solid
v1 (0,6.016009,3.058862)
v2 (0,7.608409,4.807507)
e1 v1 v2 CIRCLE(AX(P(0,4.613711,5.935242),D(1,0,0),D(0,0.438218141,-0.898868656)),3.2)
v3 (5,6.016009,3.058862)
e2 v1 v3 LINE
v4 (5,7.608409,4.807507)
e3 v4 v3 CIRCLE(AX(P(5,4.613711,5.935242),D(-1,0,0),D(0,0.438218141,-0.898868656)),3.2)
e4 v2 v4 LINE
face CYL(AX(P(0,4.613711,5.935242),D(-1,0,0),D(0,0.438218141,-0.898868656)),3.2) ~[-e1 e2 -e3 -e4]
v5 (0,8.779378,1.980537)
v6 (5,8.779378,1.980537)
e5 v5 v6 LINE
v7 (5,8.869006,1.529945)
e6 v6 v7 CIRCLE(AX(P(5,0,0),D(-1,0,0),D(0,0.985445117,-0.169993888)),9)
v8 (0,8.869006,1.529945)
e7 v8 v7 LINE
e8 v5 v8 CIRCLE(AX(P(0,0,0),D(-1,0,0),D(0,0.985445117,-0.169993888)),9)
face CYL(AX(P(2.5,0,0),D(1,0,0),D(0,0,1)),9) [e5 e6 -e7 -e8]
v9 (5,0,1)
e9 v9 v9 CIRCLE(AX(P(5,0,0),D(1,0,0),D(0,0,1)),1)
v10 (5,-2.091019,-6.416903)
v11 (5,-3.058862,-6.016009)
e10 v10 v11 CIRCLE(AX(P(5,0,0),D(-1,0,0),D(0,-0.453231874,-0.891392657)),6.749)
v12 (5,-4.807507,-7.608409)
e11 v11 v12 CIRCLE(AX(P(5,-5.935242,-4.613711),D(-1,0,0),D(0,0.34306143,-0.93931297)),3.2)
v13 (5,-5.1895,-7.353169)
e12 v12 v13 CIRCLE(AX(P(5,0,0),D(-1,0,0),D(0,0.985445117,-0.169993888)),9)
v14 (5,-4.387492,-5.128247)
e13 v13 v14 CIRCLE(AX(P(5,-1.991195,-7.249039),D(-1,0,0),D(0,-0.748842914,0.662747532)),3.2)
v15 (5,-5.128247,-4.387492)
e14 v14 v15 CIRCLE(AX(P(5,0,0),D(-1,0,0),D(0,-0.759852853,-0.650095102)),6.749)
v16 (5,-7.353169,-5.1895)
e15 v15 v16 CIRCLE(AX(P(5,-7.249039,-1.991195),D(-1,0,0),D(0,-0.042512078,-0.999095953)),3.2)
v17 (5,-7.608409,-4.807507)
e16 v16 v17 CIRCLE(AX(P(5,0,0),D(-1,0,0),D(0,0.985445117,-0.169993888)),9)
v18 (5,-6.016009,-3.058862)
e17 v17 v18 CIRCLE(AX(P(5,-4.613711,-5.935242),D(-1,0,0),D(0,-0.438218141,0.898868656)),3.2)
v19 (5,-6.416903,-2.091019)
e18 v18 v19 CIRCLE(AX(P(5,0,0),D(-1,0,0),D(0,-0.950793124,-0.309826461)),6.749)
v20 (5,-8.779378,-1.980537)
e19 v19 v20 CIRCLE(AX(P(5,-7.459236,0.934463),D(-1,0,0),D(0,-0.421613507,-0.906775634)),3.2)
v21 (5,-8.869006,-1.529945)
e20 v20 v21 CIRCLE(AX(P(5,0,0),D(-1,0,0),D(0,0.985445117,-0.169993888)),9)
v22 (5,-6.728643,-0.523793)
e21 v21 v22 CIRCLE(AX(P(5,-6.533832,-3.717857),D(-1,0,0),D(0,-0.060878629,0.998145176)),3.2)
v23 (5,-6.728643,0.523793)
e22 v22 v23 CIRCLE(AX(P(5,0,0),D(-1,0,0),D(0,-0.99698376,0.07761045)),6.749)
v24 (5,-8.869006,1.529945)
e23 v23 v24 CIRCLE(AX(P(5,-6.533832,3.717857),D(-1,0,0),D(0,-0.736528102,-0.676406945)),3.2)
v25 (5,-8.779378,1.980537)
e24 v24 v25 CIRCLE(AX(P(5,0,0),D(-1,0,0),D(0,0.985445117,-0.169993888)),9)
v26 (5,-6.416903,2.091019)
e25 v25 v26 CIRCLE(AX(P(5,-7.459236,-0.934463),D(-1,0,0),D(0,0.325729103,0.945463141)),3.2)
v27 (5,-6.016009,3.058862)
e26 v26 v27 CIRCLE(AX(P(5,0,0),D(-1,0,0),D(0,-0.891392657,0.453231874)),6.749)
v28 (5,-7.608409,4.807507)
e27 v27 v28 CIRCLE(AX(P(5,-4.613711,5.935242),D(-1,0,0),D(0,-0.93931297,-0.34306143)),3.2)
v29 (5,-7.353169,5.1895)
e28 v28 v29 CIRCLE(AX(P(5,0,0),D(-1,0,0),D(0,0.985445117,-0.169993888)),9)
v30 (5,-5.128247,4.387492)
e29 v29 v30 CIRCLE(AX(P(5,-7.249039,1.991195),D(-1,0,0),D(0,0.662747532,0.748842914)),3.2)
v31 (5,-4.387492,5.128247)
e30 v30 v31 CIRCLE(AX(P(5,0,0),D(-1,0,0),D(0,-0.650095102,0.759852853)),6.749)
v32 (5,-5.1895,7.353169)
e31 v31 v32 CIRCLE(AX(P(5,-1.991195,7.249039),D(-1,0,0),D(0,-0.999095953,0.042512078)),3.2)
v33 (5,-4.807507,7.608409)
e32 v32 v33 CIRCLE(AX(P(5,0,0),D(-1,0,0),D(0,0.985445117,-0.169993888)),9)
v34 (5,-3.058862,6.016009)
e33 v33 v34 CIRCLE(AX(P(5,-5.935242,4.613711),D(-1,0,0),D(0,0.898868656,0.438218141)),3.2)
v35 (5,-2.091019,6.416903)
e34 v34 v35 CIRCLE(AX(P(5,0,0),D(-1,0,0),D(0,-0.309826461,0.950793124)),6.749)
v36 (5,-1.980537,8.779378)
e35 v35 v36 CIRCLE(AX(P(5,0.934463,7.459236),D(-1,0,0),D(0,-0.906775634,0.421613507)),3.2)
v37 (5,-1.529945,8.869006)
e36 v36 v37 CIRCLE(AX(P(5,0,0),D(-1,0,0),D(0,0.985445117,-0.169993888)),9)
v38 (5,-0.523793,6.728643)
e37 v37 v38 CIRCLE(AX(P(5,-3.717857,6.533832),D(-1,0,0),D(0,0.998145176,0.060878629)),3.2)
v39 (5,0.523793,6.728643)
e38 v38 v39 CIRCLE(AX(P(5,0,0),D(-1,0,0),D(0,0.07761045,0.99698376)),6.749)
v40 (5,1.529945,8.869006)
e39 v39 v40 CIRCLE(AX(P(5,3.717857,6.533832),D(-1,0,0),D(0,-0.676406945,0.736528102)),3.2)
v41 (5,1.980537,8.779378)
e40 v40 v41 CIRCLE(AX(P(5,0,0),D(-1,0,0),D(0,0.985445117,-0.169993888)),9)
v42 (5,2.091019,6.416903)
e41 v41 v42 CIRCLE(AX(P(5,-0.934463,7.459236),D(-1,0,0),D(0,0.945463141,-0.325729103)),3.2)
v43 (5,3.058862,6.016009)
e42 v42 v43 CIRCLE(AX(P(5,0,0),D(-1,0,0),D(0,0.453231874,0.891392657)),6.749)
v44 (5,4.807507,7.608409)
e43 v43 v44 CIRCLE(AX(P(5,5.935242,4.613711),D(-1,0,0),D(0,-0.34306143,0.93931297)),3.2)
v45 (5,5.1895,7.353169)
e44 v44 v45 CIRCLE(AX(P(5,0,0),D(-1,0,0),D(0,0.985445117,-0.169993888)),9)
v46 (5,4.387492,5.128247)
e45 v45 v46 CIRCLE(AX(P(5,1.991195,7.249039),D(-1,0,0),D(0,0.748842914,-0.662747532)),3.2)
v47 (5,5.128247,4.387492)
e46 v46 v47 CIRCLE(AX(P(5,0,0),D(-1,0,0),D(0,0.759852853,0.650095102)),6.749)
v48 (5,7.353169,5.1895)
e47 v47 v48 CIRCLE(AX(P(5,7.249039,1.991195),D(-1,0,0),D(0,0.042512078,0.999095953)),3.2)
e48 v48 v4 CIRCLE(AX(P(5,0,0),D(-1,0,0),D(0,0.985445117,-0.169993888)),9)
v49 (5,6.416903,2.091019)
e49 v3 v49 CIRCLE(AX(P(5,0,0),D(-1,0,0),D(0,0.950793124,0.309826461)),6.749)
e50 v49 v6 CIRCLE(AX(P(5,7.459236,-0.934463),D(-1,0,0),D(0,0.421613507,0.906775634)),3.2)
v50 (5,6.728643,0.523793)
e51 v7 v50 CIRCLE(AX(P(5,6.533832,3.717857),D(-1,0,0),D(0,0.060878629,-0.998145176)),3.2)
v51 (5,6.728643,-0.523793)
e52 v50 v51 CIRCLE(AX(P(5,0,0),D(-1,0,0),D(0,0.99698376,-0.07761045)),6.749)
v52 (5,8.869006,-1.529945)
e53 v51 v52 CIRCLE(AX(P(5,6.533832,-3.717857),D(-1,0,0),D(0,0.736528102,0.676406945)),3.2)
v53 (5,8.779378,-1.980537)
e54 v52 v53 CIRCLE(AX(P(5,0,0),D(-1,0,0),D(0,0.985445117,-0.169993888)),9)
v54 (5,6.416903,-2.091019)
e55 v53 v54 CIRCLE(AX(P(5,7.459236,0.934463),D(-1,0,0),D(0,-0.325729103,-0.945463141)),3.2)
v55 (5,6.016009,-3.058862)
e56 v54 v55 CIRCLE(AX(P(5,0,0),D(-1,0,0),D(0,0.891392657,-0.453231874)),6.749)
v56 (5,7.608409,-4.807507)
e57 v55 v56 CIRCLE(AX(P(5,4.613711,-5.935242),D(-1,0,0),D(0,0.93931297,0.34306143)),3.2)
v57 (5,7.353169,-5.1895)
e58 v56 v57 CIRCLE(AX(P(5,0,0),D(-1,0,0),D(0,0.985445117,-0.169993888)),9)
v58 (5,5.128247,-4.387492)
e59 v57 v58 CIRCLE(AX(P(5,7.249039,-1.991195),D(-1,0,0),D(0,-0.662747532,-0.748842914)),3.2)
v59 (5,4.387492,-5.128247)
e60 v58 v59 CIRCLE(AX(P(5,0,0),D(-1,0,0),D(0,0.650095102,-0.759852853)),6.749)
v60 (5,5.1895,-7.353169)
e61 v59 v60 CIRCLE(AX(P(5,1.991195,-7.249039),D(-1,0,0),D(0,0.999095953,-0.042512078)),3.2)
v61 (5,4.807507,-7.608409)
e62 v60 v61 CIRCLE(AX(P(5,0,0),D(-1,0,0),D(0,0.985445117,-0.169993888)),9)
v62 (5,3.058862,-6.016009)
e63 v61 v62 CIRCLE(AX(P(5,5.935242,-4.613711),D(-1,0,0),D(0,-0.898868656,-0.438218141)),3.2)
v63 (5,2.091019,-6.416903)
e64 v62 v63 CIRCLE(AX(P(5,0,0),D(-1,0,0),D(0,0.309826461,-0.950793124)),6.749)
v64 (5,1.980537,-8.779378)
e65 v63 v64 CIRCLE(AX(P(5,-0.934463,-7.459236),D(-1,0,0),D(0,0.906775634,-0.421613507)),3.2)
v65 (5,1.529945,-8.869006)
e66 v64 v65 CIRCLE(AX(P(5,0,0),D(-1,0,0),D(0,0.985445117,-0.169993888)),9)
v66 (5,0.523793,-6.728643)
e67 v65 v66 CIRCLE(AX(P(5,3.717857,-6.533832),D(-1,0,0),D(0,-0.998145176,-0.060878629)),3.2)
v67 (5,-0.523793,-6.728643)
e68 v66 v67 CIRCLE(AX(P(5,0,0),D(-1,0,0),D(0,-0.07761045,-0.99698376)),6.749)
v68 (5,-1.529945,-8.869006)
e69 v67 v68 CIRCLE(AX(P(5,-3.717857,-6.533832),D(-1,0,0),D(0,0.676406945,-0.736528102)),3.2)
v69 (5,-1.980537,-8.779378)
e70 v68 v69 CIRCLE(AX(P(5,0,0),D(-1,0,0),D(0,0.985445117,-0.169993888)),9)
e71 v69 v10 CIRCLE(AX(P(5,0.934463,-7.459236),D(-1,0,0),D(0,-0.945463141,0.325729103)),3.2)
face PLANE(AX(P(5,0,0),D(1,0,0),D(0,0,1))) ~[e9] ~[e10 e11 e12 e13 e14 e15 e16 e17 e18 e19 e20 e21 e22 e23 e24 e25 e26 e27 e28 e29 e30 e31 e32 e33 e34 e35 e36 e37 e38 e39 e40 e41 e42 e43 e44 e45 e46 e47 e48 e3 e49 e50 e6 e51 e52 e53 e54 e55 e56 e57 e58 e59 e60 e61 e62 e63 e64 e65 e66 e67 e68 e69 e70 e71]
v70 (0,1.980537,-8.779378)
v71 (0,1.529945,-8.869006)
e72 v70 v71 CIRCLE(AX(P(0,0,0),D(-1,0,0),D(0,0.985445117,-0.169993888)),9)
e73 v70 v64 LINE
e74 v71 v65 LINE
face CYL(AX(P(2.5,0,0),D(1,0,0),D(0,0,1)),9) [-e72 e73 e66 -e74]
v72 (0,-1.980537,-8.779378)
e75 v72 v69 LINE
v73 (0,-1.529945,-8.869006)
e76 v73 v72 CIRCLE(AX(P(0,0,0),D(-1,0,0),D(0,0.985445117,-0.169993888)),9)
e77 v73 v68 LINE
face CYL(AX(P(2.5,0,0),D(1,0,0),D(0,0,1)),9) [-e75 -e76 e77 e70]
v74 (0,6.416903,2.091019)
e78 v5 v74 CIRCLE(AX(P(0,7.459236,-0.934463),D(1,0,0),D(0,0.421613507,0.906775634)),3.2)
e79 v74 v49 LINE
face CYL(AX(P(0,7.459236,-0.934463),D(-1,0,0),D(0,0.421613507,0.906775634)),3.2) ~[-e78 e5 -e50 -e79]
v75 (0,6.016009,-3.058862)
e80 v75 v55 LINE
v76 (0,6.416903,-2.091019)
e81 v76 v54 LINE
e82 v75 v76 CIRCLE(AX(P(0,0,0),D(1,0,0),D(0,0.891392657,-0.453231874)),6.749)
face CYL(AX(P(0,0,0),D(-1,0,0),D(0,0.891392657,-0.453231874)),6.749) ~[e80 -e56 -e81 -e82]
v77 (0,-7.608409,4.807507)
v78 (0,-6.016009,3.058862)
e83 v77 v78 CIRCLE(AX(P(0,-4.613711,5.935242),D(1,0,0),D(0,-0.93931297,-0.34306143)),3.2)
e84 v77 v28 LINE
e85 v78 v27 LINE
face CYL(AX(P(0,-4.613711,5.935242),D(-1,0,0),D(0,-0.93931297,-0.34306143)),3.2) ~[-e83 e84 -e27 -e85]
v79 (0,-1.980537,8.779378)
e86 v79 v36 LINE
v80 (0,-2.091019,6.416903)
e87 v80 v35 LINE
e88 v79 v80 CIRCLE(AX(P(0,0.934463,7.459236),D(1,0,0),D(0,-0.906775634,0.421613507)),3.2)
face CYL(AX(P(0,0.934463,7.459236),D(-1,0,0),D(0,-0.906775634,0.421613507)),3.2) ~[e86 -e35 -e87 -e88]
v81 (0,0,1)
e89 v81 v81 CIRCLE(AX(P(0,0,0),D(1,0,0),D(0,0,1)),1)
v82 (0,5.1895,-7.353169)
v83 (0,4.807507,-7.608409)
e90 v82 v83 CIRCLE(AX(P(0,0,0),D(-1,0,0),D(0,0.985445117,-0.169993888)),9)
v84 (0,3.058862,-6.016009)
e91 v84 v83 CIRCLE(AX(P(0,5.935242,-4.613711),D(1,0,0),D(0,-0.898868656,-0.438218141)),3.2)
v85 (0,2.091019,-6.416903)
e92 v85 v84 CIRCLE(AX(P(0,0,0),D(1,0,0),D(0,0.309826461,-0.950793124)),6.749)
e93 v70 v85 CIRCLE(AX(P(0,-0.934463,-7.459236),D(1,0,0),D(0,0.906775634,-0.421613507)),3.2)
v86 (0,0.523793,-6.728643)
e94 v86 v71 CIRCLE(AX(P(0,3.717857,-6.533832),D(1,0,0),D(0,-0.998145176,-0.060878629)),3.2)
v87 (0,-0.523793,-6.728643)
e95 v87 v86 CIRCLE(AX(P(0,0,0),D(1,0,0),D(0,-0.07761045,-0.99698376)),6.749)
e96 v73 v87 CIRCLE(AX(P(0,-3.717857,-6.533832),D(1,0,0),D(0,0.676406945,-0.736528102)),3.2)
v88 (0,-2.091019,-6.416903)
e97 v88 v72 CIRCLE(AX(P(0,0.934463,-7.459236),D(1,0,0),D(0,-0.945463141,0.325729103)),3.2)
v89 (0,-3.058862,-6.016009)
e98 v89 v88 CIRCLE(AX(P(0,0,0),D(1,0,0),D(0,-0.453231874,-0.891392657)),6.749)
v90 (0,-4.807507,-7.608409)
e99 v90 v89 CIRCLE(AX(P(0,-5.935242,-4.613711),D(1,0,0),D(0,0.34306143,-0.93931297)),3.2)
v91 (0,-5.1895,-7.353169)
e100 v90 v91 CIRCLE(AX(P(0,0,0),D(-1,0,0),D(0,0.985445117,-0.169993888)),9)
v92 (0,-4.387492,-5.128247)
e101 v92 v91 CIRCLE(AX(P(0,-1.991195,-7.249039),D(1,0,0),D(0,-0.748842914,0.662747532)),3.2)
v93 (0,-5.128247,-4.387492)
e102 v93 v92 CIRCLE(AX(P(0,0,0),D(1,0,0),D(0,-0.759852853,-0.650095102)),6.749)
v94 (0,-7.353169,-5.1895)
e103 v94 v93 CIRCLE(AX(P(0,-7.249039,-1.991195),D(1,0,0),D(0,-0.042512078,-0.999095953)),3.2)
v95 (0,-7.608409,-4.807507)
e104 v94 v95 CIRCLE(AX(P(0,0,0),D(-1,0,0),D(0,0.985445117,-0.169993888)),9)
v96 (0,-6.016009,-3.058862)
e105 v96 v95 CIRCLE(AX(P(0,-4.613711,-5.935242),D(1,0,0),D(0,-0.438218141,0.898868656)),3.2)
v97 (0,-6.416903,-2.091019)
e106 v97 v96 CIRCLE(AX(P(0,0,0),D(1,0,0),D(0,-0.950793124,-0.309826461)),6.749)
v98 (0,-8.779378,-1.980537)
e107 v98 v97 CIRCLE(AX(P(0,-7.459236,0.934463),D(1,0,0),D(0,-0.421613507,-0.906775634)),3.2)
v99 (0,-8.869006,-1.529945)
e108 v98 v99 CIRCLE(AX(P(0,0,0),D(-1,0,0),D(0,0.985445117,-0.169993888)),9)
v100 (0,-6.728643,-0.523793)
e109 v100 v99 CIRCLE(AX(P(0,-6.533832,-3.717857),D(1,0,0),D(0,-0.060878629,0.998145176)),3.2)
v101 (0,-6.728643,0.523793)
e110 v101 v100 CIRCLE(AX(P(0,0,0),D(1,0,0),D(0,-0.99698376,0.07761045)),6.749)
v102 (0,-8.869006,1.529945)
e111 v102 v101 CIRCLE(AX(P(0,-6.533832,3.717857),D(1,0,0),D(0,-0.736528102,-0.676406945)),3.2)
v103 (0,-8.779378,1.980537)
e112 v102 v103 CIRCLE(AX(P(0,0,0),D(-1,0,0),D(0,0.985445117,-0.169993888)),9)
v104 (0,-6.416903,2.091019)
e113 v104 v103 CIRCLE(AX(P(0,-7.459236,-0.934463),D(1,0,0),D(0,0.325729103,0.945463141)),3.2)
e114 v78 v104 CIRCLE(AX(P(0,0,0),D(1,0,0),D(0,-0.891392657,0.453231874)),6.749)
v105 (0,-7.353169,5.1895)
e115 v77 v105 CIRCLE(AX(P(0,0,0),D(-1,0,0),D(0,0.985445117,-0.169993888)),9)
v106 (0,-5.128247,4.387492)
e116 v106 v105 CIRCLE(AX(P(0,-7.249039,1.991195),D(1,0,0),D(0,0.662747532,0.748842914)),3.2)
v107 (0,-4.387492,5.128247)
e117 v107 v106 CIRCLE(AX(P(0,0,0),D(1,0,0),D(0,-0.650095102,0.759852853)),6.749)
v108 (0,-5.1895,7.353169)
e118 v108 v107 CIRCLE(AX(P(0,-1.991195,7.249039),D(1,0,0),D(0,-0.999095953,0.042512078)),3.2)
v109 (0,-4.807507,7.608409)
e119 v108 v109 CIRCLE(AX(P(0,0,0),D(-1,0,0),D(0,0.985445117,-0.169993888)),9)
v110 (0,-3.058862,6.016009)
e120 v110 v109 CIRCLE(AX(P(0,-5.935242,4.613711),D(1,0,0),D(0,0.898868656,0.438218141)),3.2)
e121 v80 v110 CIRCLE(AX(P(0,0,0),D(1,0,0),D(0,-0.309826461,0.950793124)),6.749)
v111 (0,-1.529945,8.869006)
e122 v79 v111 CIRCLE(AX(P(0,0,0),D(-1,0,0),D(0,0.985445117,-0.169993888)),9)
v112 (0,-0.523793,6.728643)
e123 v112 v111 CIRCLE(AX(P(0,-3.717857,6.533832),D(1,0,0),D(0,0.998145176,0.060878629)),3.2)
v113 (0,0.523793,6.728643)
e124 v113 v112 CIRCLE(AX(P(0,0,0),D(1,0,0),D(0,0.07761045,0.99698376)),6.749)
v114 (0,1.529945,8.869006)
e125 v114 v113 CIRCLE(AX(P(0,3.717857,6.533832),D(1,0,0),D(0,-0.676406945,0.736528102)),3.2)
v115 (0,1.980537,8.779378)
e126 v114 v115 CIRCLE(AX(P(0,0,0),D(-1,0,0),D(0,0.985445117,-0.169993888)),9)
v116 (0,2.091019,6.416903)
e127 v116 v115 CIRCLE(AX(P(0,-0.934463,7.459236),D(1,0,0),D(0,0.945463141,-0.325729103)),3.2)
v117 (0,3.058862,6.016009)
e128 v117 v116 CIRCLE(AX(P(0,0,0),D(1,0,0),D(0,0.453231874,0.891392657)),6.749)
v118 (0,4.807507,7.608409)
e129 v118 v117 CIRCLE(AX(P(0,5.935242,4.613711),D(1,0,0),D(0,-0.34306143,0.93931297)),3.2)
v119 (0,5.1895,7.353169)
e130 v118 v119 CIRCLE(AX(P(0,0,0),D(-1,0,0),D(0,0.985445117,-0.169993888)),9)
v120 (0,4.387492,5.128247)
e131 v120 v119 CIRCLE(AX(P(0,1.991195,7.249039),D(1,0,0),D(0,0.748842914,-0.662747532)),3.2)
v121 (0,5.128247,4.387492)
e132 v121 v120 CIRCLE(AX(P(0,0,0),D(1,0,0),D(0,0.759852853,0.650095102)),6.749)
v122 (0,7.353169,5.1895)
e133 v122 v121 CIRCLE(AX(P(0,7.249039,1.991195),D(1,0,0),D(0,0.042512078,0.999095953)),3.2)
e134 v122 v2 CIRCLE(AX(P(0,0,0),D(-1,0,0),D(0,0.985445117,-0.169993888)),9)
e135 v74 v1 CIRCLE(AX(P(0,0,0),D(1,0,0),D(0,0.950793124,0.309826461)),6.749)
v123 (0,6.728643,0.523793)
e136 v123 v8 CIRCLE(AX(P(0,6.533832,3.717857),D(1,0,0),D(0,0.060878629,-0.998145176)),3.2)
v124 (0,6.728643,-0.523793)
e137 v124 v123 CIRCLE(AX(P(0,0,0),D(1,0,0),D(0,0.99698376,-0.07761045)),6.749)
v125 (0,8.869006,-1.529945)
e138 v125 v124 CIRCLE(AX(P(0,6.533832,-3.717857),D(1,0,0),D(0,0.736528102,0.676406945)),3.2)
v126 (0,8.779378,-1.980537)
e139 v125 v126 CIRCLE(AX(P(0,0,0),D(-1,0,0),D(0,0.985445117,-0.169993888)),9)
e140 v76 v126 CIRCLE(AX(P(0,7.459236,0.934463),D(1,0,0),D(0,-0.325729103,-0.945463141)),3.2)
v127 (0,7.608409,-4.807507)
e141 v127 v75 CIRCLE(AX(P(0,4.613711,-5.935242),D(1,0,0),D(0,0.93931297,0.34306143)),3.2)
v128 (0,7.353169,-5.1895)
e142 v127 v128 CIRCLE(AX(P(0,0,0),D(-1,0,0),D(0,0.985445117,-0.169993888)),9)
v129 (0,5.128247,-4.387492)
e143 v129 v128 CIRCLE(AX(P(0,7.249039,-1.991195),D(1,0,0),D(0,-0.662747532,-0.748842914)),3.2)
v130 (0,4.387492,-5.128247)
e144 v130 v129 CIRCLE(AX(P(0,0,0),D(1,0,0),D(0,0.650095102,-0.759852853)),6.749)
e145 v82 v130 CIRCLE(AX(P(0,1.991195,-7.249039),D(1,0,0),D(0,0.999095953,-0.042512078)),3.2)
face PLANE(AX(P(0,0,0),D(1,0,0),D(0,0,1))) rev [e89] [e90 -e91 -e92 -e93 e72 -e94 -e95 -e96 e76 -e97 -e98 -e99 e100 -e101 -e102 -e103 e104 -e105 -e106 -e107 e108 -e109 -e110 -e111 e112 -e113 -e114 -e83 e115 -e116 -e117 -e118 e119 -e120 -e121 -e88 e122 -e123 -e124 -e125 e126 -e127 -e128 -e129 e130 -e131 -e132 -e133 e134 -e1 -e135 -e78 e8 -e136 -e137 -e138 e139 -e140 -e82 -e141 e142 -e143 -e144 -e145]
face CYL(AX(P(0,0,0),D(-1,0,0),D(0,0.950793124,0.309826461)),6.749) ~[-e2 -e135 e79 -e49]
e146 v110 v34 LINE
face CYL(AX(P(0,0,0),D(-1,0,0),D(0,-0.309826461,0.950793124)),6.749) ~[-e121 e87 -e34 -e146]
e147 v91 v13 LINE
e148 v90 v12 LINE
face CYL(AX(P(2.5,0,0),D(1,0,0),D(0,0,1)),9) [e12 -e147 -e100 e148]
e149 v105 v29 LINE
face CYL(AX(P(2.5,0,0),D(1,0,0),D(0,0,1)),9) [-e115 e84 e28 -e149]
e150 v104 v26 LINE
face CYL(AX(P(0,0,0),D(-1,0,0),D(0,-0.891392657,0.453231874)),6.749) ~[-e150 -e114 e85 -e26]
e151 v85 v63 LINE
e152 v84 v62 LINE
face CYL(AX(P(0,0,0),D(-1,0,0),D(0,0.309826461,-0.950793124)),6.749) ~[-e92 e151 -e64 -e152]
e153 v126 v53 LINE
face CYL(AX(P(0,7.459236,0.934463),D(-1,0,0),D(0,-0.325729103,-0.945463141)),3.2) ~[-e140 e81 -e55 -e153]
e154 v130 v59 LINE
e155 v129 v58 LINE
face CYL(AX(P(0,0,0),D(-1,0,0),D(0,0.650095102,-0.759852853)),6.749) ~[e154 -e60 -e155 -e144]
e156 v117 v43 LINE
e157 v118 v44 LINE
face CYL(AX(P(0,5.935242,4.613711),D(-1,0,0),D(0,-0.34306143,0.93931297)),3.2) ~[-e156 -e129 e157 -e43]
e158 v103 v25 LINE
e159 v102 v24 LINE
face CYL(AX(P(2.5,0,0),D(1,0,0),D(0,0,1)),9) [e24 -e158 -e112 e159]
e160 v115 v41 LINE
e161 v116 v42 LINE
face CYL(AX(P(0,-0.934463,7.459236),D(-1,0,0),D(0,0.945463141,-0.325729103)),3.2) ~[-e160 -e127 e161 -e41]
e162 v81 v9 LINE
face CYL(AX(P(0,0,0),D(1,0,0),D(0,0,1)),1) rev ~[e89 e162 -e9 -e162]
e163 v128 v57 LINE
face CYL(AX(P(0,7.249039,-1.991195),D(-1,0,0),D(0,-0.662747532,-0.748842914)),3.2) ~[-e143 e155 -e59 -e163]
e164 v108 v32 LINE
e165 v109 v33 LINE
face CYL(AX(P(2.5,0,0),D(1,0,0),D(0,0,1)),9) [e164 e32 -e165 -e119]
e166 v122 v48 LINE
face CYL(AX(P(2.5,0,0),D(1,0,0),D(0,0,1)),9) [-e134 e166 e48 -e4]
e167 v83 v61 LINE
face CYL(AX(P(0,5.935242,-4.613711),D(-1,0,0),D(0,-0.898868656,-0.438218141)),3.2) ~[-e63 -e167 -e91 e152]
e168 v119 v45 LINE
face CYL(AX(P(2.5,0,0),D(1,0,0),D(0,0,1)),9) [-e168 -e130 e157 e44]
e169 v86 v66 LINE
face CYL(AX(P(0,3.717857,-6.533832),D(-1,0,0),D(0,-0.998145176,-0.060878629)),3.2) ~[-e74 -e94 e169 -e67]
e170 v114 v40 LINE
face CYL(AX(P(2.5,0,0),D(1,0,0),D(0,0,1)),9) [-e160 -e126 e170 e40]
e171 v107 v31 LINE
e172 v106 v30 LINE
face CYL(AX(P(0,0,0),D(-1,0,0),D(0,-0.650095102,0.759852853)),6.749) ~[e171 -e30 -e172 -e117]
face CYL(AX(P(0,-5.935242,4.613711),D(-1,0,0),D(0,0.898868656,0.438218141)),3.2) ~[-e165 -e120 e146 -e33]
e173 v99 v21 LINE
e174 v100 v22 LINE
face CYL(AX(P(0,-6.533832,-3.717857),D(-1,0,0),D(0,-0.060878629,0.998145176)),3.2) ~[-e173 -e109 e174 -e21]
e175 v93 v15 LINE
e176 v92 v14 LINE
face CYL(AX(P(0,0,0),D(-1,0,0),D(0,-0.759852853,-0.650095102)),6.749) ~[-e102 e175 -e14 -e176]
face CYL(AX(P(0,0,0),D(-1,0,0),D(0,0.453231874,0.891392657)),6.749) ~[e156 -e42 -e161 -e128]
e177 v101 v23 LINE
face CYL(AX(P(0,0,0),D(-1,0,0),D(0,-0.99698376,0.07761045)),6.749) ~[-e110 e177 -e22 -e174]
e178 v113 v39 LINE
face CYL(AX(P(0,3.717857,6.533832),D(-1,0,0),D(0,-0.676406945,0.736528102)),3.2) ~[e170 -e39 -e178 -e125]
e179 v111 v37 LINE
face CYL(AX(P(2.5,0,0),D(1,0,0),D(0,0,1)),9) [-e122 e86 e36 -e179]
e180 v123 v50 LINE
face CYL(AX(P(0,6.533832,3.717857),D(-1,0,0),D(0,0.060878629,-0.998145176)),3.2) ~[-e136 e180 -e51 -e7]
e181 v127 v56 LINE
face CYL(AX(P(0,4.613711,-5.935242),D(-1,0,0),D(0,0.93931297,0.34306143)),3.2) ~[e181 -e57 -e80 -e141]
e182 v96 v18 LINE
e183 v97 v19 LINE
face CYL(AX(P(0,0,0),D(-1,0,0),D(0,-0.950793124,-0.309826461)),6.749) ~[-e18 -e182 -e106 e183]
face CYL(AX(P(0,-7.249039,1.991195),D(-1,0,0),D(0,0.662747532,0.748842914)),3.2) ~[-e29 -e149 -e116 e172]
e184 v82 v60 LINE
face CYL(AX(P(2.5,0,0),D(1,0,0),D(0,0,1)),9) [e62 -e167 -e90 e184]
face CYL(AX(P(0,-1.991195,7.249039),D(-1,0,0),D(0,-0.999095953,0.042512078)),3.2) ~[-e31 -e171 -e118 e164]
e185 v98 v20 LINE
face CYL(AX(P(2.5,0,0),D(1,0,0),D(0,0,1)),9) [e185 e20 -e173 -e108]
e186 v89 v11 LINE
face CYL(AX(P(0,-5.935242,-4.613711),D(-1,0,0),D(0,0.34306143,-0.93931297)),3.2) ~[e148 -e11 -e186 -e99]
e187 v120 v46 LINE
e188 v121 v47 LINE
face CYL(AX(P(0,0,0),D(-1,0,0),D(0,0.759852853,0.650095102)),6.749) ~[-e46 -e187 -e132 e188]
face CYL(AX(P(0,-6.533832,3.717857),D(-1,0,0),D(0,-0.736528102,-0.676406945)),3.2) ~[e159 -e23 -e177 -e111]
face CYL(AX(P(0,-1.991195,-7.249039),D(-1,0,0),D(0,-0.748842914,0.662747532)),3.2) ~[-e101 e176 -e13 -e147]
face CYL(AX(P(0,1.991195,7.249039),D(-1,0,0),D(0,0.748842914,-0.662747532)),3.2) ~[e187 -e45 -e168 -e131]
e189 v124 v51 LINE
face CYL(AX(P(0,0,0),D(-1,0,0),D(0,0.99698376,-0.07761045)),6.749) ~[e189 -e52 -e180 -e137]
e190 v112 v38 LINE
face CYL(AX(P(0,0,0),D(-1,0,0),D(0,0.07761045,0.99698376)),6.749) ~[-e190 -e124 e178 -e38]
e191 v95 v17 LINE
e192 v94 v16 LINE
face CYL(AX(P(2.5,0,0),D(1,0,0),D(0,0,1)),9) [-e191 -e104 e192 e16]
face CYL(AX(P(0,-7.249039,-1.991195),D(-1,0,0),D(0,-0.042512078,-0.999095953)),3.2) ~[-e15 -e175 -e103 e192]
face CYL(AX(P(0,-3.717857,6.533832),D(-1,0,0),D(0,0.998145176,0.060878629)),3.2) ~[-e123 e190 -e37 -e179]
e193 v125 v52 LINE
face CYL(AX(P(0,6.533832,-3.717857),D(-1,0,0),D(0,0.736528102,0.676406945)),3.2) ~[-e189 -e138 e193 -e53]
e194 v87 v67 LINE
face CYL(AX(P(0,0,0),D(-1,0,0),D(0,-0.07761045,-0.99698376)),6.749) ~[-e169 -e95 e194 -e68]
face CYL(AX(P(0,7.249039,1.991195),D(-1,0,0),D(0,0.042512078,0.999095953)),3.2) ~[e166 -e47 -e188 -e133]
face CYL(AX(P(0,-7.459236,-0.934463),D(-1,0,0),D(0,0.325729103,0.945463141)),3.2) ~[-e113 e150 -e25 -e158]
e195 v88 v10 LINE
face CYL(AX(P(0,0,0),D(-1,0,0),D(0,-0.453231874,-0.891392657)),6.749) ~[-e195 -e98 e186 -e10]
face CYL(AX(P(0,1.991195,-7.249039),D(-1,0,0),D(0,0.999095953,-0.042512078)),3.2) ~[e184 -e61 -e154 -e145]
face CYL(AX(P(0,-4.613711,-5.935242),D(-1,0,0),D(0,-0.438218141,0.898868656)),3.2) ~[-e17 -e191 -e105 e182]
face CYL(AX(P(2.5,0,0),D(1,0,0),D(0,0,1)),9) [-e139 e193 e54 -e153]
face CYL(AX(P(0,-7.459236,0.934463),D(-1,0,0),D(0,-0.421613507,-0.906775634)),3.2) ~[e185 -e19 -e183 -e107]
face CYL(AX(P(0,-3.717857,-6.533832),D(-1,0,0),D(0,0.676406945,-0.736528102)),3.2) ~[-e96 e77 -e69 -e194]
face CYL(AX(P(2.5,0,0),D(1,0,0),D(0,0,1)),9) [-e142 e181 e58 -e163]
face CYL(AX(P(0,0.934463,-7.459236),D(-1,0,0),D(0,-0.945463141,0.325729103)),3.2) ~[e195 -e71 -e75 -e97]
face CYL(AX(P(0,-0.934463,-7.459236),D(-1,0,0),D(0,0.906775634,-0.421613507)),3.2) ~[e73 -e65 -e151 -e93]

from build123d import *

# Parameters (mm, degrees)
BASPROSKE_W     = 5
BASPROSKE_H     = 9
TOOTHCUT_DEPTH  = 14.674794331
TEETHCUTS_COUNT = 16
TEETHCUTS_ANGLE = 337.5
BORSKE_R        = 1
BORE_DEPTH      = 50.0000508


with BuildPart() as part:
    # BasProSke → Base-Revolve (revolve)
    with BuildSketch(Plane(origin=(0, 0, 0), x_dir=(1, 0, 0), z_dir=(0, 1, 0))):
        with Locations((2.5, 4.5)):
            Rectangle(BASPROSKE_W, BASPROSKE_H)
    revolve(axis=Axis((-10, 0, 0), (1, 0, 0)))

    # TooCutSke → ToothCut (cut, through all)
    with BuildSketch(Plane(origin=(0, 0, 0), x_dir=(0, 0, -1), z_dir=(1, 0, 0))):
        with BuildLine():
            ThreePointArc((0.523792937, 6.728643397), (0, 6.749), (-0.523792937, 6.728643397))
            ThreePointArc((-0.523792937, 6.728643397), (-0.828704482, 7.90962059), (-1.553355277, 8.890721711))
            ThreePointArc((-1.553355277, 8.890721711), (0, 9.0254), (1.553355277, 8.890721711))
            ThreePointArc((1.553355277, 8.890721711), (0.828704482, 7.90962059), (0.523792937, 6.728643397))
        make_face()
    toothcut = extrude(amount=TOOTHCUT_DEPTH, mode=Mode.SUBTRACT)

    # TeethCuts: ToothCut ×16 about axis
    teethcuts_axis = Axis((-10, 0, 0), (1, 0, 0))
    for i in range(1, TEETHCUTS_COUNT):
        add(toothcut.rotate(teethcuts_axis, i * TEETHCUTS_ANGLE / (TEETHCUTS_COUNT - 1)), mode=Mode.SUBTRACT)

    # BorSke → Bore (cut, symmetric)
    with BuildSketch(Plane(origin=(0, 0, 0), x_dir=(0, 0, -1), z_dir=(1, 0, 0))):
        Circle(BORSKE_R)
    extrude(amount=BORE_DEPTH, both=True, mode=Mode.SUBTRACT)


solid = part.part
